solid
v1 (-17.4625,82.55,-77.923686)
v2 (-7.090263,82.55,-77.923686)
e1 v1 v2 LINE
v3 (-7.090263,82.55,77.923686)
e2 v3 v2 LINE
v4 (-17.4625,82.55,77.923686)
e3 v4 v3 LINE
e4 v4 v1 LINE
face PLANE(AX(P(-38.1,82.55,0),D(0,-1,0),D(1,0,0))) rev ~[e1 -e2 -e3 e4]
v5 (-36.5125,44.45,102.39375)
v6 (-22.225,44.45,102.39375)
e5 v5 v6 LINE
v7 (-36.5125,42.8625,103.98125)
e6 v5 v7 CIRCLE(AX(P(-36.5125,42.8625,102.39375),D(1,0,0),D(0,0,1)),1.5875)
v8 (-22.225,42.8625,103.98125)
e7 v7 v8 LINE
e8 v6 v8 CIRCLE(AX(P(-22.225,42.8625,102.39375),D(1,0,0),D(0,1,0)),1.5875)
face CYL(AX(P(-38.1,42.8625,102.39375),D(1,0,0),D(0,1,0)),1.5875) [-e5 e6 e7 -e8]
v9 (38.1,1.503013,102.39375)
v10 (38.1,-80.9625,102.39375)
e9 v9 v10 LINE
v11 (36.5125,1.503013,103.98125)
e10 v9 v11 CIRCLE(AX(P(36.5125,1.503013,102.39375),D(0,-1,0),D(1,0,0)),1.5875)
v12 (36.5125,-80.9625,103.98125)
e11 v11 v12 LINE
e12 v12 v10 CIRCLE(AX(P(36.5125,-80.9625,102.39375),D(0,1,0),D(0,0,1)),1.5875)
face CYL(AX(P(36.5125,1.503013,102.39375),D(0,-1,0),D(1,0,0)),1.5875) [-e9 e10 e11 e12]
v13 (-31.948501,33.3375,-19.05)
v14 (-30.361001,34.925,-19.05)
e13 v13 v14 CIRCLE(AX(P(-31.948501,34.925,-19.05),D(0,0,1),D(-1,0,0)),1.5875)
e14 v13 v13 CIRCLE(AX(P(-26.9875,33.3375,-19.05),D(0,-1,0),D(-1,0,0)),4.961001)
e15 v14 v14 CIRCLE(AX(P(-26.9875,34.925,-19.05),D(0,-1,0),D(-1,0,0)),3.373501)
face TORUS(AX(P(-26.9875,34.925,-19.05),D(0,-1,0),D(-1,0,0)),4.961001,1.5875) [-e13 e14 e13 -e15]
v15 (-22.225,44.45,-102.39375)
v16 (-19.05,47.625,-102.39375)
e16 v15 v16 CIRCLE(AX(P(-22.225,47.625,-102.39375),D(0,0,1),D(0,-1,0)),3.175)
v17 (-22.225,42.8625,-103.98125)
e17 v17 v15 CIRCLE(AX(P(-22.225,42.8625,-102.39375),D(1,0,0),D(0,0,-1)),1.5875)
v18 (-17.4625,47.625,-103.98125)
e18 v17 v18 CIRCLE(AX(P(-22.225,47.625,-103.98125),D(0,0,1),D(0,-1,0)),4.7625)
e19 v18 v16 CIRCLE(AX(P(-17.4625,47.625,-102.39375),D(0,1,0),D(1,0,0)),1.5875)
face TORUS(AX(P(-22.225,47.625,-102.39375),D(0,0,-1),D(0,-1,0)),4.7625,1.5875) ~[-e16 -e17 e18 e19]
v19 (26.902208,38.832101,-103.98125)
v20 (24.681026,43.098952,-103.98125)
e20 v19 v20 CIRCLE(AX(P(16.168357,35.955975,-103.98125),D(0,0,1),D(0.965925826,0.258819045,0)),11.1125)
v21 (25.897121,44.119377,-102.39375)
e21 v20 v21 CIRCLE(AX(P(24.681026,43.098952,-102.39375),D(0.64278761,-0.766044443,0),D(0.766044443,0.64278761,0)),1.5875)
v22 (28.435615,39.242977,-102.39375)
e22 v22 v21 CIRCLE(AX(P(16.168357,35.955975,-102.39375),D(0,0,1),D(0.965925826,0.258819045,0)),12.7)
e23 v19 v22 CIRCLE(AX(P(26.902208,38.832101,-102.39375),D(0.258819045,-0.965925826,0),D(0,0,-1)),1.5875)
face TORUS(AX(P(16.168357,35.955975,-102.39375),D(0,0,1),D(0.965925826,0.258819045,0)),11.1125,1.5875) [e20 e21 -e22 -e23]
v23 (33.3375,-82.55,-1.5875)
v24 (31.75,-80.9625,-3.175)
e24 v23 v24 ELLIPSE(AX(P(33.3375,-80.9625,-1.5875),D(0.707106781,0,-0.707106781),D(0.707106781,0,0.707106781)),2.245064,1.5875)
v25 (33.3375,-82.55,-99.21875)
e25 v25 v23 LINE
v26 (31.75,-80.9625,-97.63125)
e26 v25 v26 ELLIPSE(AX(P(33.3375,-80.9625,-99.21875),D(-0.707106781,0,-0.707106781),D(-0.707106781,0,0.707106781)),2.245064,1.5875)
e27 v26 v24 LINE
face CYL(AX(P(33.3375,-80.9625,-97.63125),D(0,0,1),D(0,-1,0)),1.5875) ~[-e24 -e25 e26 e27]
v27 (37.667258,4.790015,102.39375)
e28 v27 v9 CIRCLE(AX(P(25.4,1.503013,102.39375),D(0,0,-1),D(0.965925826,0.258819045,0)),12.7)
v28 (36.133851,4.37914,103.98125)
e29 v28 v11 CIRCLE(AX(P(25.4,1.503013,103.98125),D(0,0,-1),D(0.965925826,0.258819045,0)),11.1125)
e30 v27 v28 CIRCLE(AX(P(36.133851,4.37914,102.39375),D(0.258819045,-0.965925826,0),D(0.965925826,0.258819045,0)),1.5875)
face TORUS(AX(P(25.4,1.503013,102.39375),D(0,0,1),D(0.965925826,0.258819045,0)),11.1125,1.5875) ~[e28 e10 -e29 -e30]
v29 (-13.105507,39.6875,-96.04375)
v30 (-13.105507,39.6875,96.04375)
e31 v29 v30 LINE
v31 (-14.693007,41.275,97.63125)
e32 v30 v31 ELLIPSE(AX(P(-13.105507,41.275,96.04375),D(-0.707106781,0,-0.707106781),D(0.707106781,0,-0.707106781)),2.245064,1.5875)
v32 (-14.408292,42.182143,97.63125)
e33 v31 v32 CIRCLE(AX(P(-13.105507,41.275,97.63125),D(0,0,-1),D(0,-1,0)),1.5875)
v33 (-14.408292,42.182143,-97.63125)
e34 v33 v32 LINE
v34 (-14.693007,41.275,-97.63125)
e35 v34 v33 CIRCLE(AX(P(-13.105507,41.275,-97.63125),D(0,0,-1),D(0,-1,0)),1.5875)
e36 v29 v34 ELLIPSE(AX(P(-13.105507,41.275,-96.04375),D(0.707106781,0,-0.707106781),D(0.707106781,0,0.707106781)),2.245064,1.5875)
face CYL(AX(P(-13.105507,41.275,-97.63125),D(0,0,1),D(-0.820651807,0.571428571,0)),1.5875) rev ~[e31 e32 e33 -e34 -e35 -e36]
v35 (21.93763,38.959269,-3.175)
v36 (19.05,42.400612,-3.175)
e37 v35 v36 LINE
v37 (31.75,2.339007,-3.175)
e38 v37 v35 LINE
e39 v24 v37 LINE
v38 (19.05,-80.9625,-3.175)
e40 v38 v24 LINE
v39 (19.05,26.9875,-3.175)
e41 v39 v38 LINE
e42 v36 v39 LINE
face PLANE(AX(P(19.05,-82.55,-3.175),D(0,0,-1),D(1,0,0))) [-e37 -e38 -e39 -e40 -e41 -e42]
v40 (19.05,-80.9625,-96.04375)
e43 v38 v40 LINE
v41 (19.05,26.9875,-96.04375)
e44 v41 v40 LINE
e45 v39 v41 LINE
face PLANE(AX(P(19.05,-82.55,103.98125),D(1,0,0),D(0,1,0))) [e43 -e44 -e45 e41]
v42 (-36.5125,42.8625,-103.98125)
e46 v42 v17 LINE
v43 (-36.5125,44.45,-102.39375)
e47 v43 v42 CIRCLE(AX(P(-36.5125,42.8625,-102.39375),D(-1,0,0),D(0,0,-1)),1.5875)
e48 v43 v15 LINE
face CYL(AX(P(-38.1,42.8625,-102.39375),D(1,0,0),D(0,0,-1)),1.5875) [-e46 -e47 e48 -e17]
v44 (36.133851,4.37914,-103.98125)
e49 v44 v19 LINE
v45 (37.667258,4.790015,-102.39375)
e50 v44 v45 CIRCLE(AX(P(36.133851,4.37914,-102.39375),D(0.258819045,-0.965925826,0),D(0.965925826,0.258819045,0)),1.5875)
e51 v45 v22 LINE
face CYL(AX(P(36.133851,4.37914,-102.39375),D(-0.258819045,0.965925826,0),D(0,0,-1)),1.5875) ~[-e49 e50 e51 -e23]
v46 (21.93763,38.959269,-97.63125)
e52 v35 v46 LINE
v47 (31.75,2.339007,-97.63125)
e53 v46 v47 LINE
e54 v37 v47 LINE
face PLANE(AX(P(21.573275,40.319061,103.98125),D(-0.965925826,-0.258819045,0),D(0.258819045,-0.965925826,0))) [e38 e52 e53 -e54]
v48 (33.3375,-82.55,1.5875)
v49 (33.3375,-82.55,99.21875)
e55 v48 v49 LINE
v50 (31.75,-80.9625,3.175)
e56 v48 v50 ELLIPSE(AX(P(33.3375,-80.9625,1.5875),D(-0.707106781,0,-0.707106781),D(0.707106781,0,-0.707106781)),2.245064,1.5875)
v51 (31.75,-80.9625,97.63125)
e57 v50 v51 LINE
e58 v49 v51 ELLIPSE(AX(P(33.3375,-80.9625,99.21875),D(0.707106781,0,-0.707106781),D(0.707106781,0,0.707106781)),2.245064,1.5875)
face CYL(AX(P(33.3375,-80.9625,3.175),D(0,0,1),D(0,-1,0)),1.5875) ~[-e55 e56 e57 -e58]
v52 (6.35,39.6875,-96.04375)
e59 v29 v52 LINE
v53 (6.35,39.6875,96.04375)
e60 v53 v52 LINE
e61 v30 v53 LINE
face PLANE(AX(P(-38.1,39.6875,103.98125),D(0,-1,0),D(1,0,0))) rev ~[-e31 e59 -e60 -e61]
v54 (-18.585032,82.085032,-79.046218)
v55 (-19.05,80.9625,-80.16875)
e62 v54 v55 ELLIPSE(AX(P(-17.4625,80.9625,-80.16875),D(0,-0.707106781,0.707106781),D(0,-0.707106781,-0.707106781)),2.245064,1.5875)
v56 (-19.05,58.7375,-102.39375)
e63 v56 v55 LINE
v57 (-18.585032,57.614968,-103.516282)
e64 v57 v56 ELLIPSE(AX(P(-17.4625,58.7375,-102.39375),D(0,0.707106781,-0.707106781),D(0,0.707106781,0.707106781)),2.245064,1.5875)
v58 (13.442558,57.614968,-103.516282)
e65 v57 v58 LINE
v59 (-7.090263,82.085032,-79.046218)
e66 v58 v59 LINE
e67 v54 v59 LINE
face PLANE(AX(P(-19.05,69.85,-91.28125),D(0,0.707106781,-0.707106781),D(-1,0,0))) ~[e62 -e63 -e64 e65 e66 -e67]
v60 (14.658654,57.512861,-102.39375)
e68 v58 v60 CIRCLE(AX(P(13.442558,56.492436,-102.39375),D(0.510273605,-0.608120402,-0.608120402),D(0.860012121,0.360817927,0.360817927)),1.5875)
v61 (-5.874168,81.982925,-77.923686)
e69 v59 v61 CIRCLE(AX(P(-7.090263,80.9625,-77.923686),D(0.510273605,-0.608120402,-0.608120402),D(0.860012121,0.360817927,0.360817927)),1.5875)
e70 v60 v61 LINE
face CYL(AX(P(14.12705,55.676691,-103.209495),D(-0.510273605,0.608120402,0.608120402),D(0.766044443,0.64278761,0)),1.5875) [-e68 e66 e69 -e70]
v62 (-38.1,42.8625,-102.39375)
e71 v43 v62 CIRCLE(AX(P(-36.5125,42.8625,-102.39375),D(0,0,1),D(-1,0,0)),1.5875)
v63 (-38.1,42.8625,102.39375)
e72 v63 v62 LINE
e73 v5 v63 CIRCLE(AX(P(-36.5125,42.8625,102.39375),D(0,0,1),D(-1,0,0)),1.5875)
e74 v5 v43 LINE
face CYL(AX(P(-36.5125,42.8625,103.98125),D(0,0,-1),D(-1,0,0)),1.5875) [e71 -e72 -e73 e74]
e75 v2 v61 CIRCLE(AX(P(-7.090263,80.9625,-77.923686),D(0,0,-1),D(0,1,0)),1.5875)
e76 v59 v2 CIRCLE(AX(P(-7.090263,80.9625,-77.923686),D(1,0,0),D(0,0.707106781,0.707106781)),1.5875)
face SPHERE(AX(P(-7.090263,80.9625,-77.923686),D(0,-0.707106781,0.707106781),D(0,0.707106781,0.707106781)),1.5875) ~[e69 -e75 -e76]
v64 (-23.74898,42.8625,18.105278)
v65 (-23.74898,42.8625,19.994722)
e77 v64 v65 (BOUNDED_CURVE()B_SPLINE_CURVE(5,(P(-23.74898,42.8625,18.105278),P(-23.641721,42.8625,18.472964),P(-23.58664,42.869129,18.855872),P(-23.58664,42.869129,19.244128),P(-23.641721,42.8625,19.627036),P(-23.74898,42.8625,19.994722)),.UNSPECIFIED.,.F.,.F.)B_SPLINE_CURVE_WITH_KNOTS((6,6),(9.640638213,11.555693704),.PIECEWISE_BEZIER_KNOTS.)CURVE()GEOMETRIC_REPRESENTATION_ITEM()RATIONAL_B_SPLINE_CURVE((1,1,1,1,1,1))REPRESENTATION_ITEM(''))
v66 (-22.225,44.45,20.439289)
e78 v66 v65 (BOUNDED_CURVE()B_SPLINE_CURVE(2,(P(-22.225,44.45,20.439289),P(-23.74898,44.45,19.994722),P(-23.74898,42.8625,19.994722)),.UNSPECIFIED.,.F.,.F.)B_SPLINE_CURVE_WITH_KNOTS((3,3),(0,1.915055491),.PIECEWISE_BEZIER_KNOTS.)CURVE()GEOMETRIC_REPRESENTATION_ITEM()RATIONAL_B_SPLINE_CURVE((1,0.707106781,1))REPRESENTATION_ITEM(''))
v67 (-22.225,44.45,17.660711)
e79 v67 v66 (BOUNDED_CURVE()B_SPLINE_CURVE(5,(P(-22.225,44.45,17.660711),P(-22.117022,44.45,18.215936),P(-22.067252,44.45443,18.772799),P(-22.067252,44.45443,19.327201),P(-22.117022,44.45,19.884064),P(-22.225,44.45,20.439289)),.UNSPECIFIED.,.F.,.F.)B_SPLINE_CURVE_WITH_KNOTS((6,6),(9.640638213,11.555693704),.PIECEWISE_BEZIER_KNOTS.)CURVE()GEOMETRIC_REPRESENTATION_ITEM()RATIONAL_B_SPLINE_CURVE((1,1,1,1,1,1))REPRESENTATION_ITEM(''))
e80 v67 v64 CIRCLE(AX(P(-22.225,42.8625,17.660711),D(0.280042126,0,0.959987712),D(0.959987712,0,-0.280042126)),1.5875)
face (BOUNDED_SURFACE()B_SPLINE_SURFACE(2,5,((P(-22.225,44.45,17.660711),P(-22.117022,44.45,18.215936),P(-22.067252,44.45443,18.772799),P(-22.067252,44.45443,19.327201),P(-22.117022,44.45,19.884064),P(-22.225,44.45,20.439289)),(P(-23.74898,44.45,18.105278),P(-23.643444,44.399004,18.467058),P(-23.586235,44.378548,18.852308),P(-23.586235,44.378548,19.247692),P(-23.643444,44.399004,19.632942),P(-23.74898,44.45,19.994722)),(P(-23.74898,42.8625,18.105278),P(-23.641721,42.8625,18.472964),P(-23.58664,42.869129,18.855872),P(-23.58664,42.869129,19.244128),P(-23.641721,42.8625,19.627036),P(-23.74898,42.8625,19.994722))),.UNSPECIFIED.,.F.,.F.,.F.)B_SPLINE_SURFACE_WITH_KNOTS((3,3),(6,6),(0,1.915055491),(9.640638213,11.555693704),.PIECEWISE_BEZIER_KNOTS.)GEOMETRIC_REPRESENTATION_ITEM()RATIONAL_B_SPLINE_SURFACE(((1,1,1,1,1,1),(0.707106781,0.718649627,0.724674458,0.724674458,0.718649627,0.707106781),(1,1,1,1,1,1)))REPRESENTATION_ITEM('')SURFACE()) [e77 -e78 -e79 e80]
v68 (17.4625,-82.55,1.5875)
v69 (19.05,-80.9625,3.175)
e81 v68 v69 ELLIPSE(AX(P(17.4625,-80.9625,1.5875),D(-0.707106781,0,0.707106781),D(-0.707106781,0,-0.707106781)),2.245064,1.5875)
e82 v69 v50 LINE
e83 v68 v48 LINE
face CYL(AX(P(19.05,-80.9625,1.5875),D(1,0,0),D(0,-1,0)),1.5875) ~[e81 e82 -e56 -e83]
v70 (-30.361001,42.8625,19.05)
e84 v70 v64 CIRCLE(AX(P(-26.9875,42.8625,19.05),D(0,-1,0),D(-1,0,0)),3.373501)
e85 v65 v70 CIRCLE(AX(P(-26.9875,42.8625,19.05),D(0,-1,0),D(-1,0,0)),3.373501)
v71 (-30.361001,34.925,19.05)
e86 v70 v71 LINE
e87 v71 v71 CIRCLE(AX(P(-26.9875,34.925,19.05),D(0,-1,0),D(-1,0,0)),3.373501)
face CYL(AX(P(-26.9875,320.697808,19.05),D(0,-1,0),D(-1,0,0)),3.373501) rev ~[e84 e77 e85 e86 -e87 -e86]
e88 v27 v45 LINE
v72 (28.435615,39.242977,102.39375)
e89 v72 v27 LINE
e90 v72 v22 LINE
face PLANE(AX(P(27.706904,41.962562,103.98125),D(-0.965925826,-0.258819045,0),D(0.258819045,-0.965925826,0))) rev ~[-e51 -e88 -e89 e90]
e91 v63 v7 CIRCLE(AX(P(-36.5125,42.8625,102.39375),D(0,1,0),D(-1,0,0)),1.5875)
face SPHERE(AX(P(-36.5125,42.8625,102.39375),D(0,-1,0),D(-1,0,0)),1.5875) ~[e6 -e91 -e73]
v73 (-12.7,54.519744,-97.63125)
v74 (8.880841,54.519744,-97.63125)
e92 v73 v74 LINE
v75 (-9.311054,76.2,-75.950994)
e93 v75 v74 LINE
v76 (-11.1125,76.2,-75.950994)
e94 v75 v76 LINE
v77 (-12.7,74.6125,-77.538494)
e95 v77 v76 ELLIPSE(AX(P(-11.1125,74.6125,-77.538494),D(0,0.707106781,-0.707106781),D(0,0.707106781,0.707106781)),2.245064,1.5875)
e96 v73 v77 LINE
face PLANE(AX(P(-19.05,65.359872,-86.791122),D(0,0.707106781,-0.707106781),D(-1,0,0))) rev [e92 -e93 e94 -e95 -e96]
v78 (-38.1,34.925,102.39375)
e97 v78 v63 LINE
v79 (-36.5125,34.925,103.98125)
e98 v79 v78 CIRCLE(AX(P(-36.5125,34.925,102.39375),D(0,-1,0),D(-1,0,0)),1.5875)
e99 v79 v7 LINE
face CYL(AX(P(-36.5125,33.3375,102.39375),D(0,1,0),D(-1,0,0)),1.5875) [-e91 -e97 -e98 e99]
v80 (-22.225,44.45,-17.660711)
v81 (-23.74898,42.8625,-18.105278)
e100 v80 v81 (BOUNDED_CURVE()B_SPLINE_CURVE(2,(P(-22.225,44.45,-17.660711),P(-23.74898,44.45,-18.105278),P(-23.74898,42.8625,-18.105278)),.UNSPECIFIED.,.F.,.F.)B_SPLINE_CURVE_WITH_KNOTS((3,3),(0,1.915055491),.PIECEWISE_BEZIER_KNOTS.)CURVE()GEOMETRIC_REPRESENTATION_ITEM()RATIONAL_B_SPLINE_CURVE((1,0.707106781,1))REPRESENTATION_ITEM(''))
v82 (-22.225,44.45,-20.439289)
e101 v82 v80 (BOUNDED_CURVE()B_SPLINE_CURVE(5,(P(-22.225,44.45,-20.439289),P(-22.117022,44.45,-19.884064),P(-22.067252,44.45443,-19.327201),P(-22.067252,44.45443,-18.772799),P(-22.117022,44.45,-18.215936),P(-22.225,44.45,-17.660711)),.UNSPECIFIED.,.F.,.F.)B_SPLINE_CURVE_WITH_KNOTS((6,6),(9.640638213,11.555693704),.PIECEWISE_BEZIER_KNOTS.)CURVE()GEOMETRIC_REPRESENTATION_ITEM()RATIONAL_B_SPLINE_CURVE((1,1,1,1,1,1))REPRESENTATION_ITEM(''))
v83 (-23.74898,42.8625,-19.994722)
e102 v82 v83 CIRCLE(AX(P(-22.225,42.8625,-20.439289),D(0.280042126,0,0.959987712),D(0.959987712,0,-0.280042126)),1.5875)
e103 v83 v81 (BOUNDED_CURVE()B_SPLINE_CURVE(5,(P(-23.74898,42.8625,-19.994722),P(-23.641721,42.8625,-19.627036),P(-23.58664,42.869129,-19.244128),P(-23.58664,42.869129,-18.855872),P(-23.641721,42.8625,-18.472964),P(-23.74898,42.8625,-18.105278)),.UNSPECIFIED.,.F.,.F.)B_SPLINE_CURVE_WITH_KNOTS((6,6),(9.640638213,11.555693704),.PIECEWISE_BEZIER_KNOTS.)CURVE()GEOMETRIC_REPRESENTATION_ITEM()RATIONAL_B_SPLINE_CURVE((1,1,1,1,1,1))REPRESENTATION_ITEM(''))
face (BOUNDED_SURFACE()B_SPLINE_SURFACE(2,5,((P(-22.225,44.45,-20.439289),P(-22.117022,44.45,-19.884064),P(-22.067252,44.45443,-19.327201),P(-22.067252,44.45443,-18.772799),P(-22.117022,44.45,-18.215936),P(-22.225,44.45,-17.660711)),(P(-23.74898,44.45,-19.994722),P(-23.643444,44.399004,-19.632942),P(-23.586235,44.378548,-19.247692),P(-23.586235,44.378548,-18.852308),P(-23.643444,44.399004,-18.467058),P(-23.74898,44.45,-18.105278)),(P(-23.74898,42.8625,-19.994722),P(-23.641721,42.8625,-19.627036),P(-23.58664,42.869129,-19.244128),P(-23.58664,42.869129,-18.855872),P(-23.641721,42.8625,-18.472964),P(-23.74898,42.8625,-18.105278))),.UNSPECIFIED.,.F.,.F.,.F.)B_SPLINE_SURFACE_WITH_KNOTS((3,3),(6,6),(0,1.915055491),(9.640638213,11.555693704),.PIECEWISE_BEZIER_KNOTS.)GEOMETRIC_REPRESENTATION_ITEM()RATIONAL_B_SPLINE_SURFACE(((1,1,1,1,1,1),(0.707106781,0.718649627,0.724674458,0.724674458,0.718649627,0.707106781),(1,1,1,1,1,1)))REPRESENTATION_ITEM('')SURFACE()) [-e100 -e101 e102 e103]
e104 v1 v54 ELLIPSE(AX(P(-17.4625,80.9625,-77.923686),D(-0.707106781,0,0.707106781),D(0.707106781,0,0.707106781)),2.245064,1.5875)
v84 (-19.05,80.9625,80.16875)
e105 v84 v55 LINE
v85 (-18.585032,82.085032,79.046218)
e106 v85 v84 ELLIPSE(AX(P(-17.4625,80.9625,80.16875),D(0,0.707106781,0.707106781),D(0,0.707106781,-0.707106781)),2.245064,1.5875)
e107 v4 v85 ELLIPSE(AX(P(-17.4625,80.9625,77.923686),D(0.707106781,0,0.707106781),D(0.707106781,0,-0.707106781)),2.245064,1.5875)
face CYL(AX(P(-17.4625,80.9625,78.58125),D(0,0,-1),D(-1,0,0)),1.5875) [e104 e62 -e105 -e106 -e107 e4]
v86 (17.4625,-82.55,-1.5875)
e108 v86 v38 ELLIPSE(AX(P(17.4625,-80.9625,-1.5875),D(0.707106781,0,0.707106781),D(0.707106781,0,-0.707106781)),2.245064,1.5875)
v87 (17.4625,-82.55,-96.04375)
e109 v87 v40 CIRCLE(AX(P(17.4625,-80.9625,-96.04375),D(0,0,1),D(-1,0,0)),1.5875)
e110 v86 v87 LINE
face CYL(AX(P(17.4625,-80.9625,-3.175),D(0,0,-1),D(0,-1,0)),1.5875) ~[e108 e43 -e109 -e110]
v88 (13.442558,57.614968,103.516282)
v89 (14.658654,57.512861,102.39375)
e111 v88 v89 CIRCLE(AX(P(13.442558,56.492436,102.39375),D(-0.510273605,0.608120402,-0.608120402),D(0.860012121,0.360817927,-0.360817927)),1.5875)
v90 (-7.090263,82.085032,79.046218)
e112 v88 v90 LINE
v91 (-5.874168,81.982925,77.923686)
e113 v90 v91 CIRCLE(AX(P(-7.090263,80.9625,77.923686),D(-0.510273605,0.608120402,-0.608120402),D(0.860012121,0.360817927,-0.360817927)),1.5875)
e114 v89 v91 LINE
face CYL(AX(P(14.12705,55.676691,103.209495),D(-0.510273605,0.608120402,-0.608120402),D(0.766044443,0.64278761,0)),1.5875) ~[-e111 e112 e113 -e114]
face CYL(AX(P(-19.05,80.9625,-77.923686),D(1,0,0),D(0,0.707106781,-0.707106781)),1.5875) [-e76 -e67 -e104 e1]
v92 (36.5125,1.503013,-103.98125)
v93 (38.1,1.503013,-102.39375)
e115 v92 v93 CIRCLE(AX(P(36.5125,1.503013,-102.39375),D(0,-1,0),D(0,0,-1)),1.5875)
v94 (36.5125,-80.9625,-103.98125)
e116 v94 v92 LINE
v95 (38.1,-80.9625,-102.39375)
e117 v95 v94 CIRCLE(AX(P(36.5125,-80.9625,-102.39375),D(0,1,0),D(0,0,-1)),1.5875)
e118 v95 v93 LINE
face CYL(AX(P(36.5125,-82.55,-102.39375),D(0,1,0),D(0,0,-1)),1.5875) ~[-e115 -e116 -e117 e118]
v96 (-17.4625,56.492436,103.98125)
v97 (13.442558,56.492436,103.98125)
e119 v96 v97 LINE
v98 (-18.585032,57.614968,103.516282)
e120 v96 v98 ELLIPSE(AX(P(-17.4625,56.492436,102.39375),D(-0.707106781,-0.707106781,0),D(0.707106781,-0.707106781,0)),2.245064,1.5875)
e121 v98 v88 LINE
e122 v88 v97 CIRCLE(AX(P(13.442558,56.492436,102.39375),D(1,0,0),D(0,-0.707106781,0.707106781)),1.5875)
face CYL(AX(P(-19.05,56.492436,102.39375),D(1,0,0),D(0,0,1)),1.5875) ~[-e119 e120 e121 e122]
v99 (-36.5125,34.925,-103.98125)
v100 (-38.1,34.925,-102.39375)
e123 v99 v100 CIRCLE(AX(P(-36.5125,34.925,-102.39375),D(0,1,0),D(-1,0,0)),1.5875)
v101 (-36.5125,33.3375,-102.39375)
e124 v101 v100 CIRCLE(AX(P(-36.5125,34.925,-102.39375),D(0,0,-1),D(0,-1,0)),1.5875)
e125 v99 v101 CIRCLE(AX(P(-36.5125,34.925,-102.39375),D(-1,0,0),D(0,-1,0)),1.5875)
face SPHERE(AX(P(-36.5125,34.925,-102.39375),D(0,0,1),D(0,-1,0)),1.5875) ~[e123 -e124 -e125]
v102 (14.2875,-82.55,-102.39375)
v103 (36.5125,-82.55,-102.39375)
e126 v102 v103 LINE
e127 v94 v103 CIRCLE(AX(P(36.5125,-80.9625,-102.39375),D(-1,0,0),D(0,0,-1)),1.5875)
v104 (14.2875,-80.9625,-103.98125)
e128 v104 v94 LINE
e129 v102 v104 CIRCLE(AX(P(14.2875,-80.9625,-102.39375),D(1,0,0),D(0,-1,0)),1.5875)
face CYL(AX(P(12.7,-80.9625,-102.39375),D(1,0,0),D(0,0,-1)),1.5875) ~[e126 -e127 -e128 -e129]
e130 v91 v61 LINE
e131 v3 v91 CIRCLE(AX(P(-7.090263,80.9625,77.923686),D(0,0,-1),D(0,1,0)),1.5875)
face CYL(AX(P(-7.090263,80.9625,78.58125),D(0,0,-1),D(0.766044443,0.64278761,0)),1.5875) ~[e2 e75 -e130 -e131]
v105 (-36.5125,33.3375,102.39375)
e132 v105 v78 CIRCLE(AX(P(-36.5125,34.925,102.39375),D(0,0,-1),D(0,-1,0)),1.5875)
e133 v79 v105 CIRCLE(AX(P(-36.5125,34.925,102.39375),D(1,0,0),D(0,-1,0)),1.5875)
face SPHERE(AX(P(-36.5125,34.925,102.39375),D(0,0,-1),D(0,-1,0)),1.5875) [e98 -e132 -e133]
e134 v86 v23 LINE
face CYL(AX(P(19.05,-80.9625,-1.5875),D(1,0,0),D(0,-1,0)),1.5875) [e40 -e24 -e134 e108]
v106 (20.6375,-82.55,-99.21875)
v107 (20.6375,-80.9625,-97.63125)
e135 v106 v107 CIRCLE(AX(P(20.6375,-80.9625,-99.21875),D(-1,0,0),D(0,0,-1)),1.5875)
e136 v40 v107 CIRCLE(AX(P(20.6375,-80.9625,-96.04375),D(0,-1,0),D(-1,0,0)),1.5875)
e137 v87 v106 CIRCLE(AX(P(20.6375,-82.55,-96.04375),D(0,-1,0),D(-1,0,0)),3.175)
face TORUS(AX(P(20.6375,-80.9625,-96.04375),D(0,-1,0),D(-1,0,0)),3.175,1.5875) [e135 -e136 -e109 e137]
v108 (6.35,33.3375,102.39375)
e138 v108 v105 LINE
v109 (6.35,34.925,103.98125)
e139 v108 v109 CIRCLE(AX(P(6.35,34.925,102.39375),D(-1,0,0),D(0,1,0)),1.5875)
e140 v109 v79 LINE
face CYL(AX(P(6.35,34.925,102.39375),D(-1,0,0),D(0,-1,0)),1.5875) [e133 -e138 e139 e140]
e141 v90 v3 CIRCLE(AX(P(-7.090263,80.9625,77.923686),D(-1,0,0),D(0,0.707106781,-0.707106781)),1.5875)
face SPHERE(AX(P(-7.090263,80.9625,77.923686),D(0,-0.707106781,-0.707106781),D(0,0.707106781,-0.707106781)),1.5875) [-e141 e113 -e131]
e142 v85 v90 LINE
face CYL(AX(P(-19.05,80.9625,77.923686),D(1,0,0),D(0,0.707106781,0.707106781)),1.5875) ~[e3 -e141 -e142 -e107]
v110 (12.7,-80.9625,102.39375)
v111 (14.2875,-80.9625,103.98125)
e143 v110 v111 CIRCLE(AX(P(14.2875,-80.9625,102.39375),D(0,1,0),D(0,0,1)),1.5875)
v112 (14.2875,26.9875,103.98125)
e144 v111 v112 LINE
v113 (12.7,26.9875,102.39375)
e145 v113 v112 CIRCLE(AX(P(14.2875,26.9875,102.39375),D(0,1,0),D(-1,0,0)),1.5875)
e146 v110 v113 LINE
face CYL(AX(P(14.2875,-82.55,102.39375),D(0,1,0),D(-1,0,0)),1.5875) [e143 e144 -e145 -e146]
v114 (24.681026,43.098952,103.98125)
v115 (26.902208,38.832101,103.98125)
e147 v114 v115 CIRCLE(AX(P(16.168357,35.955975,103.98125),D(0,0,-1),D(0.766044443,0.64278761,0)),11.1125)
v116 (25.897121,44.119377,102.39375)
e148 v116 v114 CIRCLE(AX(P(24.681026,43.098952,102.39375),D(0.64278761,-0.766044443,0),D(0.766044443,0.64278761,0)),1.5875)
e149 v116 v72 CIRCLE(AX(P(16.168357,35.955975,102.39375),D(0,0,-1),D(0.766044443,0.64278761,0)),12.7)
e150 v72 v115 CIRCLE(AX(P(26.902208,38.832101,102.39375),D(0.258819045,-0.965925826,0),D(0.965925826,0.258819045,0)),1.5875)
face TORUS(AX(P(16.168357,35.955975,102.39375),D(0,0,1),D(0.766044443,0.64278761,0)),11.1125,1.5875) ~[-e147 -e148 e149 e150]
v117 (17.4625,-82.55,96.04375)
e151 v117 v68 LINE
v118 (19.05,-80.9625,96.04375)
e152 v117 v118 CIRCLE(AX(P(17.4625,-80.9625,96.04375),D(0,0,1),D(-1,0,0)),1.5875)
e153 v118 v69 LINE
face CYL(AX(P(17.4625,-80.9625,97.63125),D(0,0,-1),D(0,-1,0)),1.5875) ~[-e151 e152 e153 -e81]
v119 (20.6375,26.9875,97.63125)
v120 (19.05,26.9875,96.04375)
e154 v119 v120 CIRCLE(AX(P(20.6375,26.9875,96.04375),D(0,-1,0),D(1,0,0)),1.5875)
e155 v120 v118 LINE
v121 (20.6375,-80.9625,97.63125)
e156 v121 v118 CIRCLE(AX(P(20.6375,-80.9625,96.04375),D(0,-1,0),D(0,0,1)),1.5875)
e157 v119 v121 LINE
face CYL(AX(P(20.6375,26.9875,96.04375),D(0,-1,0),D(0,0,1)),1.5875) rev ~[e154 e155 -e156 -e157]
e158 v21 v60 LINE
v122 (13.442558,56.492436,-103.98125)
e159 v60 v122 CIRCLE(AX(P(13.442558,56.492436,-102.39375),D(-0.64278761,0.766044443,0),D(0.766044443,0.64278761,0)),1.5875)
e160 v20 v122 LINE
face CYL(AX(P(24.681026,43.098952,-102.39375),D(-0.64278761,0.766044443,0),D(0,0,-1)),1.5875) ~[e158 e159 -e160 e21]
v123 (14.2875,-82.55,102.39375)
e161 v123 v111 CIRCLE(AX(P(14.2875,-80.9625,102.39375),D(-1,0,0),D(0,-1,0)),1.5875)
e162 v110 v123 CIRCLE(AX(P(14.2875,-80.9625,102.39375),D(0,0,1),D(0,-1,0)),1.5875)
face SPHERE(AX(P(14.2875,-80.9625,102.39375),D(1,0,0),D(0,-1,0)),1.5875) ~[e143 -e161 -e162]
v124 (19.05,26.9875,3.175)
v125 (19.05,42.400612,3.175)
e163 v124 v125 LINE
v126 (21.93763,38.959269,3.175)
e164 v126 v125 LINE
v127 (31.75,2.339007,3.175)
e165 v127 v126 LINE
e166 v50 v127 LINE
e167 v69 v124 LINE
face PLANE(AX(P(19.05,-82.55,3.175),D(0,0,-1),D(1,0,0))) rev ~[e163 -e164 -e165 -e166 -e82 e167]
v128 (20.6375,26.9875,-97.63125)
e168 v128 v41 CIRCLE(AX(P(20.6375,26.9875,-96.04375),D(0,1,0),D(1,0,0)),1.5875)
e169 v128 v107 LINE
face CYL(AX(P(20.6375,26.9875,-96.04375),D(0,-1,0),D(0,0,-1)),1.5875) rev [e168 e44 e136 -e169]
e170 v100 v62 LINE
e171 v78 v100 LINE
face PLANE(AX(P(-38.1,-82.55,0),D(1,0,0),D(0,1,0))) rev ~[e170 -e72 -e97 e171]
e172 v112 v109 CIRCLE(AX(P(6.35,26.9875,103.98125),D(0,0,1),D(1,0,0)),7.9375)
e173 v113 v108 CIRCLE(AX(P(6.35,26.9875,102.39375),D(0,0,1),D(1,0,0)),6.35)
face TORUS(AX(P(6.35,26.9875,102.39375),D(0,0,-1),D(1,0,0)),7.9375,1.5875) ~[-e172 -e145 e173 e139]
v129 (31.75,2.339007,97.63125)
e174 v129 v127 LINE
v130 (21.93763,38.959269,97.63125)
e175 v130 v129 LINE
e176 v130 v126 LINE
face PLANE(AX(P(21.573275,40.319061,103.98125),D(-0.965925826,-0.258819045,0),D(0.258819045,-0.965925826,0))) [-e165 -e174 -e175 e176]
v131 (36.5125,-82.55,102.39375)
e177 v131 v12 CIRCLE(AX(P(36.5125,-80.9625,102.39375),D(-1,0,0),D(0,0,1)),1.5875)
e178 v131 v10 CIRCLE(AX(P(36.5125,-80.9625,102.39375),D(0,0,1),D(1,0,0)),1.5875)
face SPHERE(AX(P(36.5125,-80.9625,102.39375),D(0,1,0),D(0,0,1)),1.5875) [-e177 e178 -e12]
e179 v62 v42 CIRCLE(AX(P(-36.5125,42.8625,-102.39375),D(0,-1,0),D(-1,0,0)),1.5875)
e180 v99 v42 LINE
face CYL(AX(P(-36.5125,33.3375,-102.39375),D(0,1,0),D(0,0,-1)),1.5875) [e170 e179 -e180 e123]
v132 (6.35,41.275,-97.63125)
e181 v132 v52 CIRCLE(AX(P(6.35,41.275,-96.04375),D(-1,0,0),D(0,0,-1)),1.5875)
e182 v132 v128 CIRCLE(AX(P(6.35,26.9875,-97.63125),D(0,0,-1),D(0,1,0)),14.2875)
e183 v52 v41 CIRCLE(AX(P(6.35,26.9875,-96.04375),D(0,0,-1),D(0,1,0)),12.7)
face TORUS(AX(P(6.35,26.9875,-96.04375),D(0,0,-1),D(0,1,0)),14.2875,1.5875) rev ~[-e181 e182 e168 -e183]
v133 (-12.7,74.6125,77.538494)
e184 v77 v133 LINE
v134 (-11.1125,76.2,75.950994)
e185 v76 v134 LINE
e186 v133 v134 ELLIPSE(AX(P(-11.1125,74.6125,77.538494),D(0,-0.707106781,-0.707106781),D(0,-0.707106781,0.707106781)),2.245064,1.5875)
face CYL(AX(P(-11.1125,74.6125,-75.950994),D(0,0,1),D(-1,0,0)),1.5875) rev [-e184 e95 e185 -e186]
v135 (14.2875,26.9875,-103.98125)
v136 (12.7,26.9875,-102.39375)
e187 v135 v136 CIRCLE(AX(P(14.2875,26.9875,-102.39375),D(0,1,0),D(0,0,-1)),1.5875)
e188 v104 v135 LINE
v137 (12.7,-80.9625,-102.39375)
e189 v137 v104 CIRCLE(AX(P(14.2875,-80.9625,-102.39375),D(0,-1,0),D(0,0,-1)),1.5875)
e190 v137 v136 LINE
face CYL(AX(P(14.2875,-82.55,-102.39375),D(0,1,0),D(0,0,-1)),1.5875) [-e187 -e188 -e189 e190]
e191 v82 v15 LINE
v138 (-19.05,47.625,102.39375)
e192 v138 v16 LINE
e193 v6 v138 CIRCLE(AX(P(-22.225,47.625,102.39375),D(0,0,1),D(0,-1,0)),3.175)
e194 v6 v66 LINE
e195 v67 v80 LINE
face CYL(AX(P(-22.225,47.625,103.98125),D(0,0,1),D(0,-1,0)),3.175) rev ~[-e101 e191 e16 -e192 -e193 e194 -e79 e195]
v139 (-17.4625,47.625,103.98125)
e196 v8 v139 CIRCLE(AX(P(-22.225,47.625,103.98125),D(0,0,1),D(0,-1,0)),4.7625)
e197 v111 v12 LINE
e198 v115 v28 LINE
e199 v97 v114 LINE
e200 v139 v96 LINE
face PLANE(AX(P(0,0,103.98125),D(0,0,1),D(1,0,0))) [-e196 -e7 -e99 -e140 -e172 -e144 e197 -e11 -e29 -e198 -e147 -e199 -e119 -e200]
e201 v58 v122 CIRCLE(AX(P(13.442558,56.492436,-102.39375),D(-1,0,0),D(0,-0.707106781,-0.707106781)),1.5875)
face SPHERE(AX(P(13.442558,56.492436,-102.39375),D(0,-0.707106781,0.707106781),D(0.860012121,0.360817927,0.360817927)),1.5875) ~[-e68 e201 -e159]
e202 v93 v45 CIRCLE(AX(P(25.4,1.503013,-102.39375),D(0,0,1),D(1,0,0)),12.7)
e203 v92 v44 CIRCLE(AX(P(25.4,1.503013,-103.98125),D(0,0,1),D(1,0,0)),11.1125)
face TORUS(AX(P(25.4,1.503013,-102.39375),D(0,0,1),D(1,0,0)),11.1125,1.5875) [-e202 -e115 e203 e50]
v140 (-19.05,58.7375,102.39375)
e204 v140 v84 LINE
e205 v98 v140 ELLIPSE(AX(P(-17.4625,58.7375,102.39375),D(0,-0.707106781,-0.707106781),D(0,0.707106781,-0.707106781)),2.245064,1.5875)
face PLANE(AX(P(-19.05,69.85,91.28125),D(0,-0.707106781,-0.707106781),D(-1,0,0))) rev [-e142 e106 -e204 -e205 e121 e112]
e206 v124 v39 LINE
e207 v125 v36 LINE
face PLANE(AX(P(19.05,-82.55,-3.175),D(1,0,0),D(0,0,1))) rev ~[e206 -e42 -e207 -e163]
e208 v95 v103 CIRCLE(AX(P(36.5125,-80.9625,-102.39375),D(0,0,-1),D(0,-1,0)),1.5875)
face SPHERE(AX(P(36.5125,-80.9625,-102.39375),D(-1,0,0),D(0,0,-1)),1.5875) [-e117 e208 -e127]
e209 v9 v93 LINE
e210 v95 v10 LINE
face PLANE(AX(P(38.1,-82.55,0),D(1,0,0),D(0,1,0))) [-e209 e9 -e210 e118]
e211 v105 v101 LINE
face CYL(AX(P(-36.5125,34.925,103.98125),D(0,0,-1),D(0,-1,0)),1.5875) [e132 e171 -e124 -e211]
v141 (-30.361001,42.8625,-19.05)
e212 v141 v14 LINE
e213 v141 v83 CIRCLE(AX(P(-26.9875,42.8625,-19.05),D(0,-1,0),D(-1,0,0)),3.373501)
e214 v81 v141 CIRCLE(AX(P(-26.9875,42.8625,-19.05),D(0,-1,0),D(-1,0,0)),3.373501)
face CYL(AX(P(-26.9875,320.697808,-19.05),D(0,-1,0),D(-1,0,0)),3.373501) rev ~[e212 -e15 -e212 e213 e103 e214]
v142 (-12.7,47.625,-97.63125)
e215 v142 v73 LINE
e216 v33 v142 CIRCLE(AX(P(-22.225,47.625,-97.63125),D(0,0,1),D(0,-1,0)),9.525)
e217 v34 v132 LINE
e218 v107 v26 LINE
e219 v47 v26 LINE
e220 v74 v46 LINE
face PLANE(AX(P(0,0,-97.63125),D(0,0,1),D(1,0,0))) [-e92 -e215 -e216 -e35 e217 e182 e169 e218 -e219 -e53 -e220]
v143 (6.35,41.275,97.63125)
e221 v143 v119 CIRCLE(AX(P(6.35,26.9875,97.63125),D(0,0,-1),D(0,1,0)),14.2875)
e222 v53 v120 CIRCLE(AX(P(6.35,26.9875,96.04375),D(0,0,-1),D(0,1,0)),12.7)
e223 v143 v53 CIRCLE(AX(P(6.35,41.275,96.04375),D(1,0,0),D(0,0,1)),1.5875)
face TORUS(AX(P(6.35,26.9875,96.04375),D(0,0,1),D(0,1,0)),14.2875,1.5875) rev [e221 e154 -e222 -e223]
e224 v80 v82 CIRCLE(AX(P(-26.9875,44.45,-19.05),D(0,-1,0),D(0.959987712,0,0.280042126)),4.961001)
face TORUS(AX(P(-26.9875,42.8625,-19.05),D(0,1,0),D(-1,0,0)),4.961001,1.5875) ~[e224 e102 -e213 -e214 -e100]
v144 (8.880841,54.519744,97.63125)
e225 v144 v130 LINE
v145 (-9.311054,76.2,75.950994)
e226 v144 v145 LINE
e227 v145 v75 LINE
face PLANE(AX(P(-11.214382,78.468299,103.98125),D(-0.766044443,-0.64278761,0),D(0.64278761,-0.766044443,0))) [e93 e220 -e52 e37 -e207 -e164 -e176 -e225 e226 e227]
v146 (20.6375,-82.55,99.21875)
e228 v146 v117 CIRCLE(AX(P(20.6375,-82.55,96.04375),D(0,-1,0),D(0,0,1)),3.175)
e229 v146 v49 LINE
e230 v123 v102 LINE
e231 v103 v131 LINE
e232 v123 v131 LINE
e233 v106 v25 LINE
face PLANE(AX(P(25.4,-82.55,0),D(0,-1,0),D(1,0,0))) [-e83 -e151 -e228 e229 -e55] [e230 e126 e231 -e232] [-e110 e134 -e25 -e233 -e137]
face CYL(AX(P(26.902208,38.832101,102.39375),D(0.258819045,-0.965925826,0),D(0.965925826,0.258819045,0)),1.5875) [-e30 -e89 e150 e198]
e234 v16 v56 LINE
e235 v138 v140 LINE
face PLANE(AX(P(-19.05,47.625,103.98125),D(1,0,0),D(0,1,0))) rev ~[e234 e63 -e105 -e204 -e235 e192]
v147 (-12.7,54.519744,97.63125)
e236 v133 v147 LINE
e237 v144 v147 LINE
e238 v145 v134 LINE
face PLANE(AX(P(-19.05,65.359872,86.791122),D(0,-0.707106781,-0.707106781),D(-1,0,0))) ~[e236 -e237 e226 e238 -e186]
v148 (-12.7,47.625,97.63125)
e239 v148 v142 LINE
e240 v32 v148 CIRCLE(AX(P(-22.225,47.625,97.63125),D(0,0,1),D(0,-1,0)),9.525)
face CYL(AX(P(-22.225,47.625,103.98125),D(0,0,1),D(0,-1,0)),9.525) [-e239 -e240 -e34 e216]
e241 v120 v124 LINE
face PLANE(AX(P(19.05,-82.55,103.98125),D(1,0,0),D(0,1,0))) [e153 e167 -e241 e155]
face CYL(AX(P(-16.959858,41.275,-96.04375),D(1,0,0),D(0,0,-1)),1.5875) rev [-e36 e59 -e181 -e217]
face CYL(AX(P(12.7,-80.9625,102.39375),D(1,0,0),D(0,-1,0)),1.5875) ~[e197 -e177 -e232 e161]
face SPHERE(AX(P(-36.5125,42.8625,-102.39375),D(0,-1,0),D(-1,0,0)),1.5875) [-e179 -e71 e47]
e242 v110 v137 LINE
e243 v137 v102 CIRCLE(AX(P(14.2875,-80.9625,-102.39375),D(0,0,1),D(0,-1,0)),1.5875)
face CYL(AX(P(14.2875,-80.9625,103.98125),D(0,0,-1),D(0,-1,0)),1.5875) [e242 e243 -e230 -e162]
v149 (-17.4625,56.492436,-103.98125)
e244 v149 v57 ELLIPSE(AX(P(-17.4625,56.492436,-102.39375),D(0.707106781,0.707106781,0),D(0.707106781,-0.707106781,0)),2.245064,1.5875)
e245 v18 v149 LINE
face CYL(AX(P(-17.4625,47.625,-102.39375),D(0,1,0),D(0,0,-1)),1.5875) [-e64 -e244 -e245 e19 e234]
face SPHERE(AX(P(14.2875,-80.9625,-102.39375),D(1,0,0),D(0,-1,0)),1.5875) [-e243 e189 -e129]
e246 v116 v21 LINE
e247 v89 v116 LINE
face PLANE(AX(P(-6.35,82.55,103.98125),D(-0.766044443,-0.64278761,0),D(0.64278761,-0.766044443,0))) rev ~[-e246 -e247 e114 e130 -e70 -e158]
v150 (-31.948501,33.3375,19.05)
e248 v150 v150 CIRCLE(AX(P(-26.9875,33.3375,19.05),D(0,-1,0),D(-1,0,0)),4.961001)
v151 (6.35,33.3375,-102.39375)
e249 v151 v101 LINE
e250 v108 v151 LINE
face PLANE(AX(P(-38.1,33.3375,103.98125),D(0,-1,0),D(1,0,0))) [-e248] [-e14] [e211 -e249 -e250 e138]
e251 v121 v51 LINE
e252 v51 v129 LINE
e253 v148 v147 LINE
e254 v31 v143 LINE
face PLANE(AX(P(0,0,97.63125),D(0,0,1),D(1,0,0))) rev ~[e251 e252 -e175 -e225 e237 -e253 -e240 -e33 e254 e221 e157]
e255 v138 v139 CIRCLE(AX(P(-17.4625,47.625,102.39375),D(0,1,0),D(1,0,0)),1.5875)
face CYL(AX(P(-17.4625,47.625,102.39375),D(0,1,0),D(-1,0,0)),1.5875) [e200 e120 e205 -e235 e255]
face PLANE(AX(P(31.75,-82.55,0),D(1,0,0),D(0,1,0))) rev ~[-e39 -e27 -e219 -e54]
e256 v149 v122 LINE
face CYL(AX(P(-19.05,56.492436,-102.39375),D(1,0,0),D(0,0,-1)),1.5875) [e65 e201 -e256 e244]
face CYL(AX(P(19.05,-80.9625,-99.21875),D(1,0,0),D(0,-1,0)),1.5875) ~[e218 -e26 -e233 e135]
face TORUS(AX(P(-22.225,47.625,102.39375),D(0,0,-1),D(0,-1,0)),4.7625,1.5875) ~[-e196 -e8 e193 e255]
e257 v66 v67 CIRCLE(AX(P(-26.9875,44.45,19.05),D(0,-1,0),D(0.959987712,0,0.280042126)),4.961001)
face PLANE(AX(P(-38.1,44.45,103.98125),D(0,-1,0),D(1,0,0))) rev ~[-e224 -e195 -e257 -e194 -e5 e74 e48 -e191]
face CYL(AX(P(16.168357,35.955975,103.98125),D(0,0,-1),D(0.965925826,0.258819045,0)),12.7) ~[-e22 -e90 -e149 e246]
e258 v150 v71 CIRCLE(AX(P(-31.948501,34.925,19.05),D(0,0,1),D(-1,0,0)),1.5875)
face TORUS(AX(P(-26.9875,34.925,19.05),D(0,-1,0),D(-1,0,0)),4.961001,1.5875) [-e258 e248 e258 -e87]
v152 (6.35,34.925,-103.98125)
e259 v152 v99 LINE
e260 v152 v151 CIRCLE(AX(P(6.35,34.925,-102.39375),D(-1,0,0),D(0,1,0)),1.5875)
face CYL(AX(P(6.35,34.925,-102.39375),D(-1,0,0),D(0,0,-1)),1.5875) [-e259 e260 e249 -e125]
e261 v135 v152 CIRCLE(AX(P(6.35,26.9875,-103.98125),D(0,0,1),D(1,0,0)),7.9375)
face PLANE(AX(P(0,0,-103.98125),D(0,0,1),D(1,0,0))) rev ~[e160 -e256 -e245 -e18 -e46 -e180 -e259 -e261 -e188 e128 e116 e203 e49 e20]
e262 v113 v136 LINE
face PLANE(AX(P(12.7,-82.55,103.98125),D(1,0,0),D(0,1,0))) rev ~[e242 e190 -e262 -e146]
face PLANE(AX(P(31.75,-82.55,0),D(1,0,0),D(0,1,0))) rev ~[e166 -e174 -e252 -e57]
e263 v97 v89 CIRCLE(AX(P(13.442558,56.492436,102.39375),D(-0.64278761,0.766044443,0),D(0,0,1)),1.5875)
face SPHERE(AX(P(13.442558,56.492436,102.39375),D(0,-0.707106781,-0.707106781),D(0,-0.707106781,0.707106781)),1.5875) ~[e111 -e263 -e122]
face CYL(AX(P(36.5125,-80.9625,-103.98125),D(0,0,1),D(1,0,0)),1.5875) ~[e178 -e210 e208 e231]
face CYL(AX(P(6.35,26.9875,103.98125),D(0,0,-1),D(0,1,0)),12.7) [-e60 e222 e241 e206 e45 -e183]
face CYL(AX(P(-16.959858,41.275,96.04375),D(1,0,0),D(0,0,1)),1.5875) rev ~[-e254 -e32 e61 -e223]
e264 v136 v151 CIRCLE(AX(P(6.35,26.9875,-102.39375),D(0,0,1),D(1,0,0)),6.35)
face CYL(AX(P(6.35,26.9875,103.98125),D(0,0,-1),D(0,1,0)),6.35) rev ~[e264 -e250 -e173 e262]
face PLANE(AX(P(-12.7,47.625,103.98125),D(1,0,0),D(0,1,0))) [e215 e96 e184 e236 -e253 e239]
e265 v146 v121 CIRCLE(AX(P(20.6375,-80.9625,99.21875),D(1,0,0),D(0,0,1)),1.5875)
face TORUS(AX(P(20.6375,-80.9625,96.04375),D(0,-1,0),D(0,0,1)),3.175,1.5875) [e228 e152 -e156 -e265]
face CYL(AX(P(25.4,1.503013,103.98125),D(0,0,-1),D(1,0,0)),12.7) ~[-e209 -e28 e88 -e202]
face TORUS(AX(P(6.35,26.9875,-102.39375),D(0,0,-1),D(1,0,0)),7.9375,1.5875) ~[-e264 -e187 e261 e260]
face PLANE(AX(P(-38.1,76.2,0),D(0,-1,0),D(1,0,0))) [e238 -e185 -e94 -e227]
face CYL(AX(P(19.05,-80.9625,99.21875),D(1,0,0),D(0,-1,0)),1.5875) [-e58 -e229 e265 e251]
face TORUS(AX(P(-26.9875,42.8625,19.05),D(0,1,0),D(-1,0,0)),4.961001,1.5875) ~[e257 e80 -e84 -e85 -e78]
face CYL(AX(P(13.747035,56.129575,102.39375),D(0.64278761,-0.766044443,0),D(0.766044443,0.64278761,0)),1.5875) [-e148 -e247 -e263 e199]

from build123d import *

# Parameters (mm, degrees)
SKETCH1_W                        = 76.2
SKETCH1_H                        = 165.1
EXTRUDE1_DEPTH                   = 103.98125
CUT_EXTRUDE2_REACH               = 228.968
SKETCH3_W                        = 50.8
SKETCH3_H                        = 115.8875
CUT_EXTRUDE6_REACH               = 228.968
CHAMFER1_SIZE                    = 25.4
FILLET5_R                        = 6.35
SHELL2_T                         = -6.35
BOSS_EXTRUDE1_REACH              = 200.801
SKETCH16_W                       = 12.7
SKETCH16_H                       = 6.35
F_17_64_0_26563_DIAMETER_HOLE3_D = 6.747002
FILLET1_R                        = 12.7
FILLET4_R                        = 1.5875


with BuildPart() as part:
    # Sketch1 → Extrude1 (new, symmetric)
    with BuildSketch(Plane.XY):
        Rectangle(SKETCH1_W, SKETCH1_H)
    extrude(amount=EXTRUDE1_DEPTH, both=True)

    # Sketch3 → Cut-Extrude2 (cut, up to next)
    with BuildSketch(Plane.XY.offset(103.98125), mode=Mode.PRIVATE) as cut_extrude2_sk1:
        with Locations((-12.7, -24.60625)):
            Rectangle(SKETCH3_W, SKETCH3_H)
    cut_extrude2_tool1 = extrude(cut_extrude2_sk1.sketch, amount=-CUT_EXTRUDE2_REACH, mode=Mode.PRIVATE) & part.part
    add(cut_extrude2_tool1.solids().sort_by_distance((-12.7, -24.60625, 103.98125))[0], mode=Mode.SUBTRACT)

    # Sketch10 → Cut-Extrude6 (cut, up to next)
    with BuildSketch(Plane.XY.offset(103.98125), mode=Mode.PRIVATE) as cut_extrude6_sk1:
        Polygon((-6.35, 82.55), (27.706904006, 41.962562299), (38.1, 3.175), (38.1, 82.55), align=None)
    cut_extrude6_tool1 = extrude(cut_extrude6_sk1.sketch, amount=-CUT_EXTRUDE6_REACH, mode=Mode.PRIVATE) & part.part
    # Sketch10 → Cut-Extrude6 (cut, up to next)
    with BuildSketch(Plane.XY.offset(103.98125), mode=Mode.PRIVATE) as cut_extrude6_sk2:
        with BuildLine():
            Line((-38.1, 44.45), (-22.225, 44.45))
            ThreePointArc((-22.225, 44.45), (-19.97993597, 45.37993597), (-19.05, 47.625))
            Line((-19.05, 47.625), (-19.05, 82.55))
            Line((-19.05, 82.55), (-38.1, 82.55))
            Line((-38.1, 82.55), (-38.1, 44.45))
        make_face()
    cut_extrude6_tool2 = extrude(cut_extrude6_sk2.sketch, amount=-CUT_EXTRUDE6_REACH, mode=Mode.PRIVATE) & part.part
    add(cut_extrude6_tool1.solids().sort_by_distance((24.468167, 60.718714, 103.98125))[0], mode=Mode.SUBTRACT)
    add(cut_extrude6_tool2.solids().sort_by_distance((-28.601355, 63.55483, 103.98125))[0], mode=Mode.SUBTRACT)

    # Chamfer1
    chamfer1_edges = [part.edges().sort_by_distance(p)[0] for p in [
        (-12.7, 82.55, -103.98125),
        (-12.7, 82.55, 103.98125),
    ]]
    chamfer(chamfer1_edges, length=CHAMFER1_SIZE)

    # Fillet5
    fillet5_edges = [part.edges().sort_by_distance(p)[0] for p in [
        (12.7, 33.3375, 0),
    ]]
    fillet(fillet5_edges, radius=FILLET5_R)

    # Shell2
    shell2_openings = [part.faces().sort_by_distance(p)[0] for p in [
        (25.4, -82.55, 0),
    ]]
    offset(amount=SHELL2_T, openings=shell2_openings)

    # Sketch16 → Boss-Extrude1 (add, up to next)
    with BuildSketch(Plane.XZ.offset(82.55), mode=Mode.PRIVATE) as boss_extrude1_sk1:
        with Locations((25.4, 0)):
            Rectangle(SKETCH16_W, SKETCH16_H)
    boss_extrude1_tool1 = extrude(boss_extrude1_sk1.sketch, amount=-BOSS_EXTRUDE1_REACH, mode=Mode.PRIVATE) - part.part
    add(boss_extrude1_tool1.solids().sort_by_distance((25.4, -82.55, 0))[0])

    # 17/64 (0.26563) Diameter Hole3 (through all)
    with Locations(Plane(origin=(0, 44.45, 0), x_dir=(1, 0, 0), z_dir=(0, 1, 0))):
        with Locations((-26.9875, 19.05), (-26.9875, -19.05)):
            Hole(F_17_64_0_26563_DIAMETER_HOLE3_D / 2)

    # Fillet1
    fillet1_edges = [part.edges().sort_by_distance(p)[0] for p in [
        (38.1, 3.175, 0),
        (27.706904006, 41.962562299, 0),
    ]]
    fillet(fillet1_edges, radius=FILLET1_R)

    # Fillet4
    fillet4_edges = [part.edges().sort_by_distance(p)[0] for p in [
        (19.05, -82.55, 50.403125),
        (31.75, -82.55, -50.403125),
        (25.4, -82.55, -3.175),
        (25.4, -82.55, 3.175),
        (-23.613999, 44.45, 19.05),
        (-23.613999, 33.3375, 19.05),
        (-23.613999, 44.45, -19.05),
        (-23.613999, 33.3375, -19.05),
        (25.4, -82.55, -103.98125),
        (33.051436385, 22.016495915, 103.98125),
        (27.433394365, 41.820182191, 103.98125),
        (37.991349739, 3.160695922, 103.98125),
        (33.051436385, 22.016495915, -103.98125),
        (20.430125921, 50.634688723, -103.98125),
        (27.433394365, 41.820182191, -103.98125),
        (37.991349739, 3.160695922, -103.98125),
        (25.4, -82.55, 103.98125),
        (-38.1, 33.3375, 0),
        (12.7, -82.55, 0),
        (12.7, -27.78125, 103.98125),
        (-15.875, 33.3375, -103.98125),
        (-38.1, 38.89375, -103.98125),
        (-38.1, 38.89375, 103.98125),
        (-38.1, 44.45, 0),
        (-30.1625, 44.45, 103.98125),
        (-19.97993597, 45.37993597, 103.98125),
        (-19.05, 52.3875, 103.98125),
        (-19.97993597, 45.37993597, -103.98125),
        (-30.1625, 44.45, -103.98125),
        (38.1, -40.52349336, 103.98125),
        (38.1, -40.52349336, -103.98125),
        (20.430125921, 50.634688723, 103.98125),
        (-2.043434684, 57.15, 103.98125),
        (-19.05, 52.3875, -103.98125),
        (-19.05, 82.55, 0),
        (-6.35, 82.55, 0),
        (-12.7, 82.55, -78.58125),
        (-12.7, 82.55, 78.58125),
        (4.306565316, 69.85, -91.28125),
        (4.306565316, 69.85, 91.28125),
        (-2.043434684, 57.15, -103.98125),
        (-15.875, 33.3375, 103.98125),
        (12.7, -27.78125, -103.98125),
        (10.840128061, 31.477628061, 103.98125),
        (10.840128061, 31.477628061, -103.98125),
        (38.1, -82.55, 0),
        (31.75, -82.55, 50.403125),
        (-12.7, 76.2, 0),
        (25.4, -82.55, -97.63125),
        (15.330256121, 35.967756121, 97.63125),
        (25.4, -82.55, 97.63125),
        (15.330256121, 35.967756121, -97.63125),
        (-5.304929073, 39.6875, -97.63125),
        (-5.304929073, 39.6875, 97.63125),
        (19.05, -27.78125, 97.63125),
        (19.05, -27.78125, -97.63125),
        (19.05, -82.55, -50.403125),
        (-16.959858145, 39.6875, 0),
    ]]
    fillet(fillet4_edges, radius=FILLET4_R)


solid = part.part
